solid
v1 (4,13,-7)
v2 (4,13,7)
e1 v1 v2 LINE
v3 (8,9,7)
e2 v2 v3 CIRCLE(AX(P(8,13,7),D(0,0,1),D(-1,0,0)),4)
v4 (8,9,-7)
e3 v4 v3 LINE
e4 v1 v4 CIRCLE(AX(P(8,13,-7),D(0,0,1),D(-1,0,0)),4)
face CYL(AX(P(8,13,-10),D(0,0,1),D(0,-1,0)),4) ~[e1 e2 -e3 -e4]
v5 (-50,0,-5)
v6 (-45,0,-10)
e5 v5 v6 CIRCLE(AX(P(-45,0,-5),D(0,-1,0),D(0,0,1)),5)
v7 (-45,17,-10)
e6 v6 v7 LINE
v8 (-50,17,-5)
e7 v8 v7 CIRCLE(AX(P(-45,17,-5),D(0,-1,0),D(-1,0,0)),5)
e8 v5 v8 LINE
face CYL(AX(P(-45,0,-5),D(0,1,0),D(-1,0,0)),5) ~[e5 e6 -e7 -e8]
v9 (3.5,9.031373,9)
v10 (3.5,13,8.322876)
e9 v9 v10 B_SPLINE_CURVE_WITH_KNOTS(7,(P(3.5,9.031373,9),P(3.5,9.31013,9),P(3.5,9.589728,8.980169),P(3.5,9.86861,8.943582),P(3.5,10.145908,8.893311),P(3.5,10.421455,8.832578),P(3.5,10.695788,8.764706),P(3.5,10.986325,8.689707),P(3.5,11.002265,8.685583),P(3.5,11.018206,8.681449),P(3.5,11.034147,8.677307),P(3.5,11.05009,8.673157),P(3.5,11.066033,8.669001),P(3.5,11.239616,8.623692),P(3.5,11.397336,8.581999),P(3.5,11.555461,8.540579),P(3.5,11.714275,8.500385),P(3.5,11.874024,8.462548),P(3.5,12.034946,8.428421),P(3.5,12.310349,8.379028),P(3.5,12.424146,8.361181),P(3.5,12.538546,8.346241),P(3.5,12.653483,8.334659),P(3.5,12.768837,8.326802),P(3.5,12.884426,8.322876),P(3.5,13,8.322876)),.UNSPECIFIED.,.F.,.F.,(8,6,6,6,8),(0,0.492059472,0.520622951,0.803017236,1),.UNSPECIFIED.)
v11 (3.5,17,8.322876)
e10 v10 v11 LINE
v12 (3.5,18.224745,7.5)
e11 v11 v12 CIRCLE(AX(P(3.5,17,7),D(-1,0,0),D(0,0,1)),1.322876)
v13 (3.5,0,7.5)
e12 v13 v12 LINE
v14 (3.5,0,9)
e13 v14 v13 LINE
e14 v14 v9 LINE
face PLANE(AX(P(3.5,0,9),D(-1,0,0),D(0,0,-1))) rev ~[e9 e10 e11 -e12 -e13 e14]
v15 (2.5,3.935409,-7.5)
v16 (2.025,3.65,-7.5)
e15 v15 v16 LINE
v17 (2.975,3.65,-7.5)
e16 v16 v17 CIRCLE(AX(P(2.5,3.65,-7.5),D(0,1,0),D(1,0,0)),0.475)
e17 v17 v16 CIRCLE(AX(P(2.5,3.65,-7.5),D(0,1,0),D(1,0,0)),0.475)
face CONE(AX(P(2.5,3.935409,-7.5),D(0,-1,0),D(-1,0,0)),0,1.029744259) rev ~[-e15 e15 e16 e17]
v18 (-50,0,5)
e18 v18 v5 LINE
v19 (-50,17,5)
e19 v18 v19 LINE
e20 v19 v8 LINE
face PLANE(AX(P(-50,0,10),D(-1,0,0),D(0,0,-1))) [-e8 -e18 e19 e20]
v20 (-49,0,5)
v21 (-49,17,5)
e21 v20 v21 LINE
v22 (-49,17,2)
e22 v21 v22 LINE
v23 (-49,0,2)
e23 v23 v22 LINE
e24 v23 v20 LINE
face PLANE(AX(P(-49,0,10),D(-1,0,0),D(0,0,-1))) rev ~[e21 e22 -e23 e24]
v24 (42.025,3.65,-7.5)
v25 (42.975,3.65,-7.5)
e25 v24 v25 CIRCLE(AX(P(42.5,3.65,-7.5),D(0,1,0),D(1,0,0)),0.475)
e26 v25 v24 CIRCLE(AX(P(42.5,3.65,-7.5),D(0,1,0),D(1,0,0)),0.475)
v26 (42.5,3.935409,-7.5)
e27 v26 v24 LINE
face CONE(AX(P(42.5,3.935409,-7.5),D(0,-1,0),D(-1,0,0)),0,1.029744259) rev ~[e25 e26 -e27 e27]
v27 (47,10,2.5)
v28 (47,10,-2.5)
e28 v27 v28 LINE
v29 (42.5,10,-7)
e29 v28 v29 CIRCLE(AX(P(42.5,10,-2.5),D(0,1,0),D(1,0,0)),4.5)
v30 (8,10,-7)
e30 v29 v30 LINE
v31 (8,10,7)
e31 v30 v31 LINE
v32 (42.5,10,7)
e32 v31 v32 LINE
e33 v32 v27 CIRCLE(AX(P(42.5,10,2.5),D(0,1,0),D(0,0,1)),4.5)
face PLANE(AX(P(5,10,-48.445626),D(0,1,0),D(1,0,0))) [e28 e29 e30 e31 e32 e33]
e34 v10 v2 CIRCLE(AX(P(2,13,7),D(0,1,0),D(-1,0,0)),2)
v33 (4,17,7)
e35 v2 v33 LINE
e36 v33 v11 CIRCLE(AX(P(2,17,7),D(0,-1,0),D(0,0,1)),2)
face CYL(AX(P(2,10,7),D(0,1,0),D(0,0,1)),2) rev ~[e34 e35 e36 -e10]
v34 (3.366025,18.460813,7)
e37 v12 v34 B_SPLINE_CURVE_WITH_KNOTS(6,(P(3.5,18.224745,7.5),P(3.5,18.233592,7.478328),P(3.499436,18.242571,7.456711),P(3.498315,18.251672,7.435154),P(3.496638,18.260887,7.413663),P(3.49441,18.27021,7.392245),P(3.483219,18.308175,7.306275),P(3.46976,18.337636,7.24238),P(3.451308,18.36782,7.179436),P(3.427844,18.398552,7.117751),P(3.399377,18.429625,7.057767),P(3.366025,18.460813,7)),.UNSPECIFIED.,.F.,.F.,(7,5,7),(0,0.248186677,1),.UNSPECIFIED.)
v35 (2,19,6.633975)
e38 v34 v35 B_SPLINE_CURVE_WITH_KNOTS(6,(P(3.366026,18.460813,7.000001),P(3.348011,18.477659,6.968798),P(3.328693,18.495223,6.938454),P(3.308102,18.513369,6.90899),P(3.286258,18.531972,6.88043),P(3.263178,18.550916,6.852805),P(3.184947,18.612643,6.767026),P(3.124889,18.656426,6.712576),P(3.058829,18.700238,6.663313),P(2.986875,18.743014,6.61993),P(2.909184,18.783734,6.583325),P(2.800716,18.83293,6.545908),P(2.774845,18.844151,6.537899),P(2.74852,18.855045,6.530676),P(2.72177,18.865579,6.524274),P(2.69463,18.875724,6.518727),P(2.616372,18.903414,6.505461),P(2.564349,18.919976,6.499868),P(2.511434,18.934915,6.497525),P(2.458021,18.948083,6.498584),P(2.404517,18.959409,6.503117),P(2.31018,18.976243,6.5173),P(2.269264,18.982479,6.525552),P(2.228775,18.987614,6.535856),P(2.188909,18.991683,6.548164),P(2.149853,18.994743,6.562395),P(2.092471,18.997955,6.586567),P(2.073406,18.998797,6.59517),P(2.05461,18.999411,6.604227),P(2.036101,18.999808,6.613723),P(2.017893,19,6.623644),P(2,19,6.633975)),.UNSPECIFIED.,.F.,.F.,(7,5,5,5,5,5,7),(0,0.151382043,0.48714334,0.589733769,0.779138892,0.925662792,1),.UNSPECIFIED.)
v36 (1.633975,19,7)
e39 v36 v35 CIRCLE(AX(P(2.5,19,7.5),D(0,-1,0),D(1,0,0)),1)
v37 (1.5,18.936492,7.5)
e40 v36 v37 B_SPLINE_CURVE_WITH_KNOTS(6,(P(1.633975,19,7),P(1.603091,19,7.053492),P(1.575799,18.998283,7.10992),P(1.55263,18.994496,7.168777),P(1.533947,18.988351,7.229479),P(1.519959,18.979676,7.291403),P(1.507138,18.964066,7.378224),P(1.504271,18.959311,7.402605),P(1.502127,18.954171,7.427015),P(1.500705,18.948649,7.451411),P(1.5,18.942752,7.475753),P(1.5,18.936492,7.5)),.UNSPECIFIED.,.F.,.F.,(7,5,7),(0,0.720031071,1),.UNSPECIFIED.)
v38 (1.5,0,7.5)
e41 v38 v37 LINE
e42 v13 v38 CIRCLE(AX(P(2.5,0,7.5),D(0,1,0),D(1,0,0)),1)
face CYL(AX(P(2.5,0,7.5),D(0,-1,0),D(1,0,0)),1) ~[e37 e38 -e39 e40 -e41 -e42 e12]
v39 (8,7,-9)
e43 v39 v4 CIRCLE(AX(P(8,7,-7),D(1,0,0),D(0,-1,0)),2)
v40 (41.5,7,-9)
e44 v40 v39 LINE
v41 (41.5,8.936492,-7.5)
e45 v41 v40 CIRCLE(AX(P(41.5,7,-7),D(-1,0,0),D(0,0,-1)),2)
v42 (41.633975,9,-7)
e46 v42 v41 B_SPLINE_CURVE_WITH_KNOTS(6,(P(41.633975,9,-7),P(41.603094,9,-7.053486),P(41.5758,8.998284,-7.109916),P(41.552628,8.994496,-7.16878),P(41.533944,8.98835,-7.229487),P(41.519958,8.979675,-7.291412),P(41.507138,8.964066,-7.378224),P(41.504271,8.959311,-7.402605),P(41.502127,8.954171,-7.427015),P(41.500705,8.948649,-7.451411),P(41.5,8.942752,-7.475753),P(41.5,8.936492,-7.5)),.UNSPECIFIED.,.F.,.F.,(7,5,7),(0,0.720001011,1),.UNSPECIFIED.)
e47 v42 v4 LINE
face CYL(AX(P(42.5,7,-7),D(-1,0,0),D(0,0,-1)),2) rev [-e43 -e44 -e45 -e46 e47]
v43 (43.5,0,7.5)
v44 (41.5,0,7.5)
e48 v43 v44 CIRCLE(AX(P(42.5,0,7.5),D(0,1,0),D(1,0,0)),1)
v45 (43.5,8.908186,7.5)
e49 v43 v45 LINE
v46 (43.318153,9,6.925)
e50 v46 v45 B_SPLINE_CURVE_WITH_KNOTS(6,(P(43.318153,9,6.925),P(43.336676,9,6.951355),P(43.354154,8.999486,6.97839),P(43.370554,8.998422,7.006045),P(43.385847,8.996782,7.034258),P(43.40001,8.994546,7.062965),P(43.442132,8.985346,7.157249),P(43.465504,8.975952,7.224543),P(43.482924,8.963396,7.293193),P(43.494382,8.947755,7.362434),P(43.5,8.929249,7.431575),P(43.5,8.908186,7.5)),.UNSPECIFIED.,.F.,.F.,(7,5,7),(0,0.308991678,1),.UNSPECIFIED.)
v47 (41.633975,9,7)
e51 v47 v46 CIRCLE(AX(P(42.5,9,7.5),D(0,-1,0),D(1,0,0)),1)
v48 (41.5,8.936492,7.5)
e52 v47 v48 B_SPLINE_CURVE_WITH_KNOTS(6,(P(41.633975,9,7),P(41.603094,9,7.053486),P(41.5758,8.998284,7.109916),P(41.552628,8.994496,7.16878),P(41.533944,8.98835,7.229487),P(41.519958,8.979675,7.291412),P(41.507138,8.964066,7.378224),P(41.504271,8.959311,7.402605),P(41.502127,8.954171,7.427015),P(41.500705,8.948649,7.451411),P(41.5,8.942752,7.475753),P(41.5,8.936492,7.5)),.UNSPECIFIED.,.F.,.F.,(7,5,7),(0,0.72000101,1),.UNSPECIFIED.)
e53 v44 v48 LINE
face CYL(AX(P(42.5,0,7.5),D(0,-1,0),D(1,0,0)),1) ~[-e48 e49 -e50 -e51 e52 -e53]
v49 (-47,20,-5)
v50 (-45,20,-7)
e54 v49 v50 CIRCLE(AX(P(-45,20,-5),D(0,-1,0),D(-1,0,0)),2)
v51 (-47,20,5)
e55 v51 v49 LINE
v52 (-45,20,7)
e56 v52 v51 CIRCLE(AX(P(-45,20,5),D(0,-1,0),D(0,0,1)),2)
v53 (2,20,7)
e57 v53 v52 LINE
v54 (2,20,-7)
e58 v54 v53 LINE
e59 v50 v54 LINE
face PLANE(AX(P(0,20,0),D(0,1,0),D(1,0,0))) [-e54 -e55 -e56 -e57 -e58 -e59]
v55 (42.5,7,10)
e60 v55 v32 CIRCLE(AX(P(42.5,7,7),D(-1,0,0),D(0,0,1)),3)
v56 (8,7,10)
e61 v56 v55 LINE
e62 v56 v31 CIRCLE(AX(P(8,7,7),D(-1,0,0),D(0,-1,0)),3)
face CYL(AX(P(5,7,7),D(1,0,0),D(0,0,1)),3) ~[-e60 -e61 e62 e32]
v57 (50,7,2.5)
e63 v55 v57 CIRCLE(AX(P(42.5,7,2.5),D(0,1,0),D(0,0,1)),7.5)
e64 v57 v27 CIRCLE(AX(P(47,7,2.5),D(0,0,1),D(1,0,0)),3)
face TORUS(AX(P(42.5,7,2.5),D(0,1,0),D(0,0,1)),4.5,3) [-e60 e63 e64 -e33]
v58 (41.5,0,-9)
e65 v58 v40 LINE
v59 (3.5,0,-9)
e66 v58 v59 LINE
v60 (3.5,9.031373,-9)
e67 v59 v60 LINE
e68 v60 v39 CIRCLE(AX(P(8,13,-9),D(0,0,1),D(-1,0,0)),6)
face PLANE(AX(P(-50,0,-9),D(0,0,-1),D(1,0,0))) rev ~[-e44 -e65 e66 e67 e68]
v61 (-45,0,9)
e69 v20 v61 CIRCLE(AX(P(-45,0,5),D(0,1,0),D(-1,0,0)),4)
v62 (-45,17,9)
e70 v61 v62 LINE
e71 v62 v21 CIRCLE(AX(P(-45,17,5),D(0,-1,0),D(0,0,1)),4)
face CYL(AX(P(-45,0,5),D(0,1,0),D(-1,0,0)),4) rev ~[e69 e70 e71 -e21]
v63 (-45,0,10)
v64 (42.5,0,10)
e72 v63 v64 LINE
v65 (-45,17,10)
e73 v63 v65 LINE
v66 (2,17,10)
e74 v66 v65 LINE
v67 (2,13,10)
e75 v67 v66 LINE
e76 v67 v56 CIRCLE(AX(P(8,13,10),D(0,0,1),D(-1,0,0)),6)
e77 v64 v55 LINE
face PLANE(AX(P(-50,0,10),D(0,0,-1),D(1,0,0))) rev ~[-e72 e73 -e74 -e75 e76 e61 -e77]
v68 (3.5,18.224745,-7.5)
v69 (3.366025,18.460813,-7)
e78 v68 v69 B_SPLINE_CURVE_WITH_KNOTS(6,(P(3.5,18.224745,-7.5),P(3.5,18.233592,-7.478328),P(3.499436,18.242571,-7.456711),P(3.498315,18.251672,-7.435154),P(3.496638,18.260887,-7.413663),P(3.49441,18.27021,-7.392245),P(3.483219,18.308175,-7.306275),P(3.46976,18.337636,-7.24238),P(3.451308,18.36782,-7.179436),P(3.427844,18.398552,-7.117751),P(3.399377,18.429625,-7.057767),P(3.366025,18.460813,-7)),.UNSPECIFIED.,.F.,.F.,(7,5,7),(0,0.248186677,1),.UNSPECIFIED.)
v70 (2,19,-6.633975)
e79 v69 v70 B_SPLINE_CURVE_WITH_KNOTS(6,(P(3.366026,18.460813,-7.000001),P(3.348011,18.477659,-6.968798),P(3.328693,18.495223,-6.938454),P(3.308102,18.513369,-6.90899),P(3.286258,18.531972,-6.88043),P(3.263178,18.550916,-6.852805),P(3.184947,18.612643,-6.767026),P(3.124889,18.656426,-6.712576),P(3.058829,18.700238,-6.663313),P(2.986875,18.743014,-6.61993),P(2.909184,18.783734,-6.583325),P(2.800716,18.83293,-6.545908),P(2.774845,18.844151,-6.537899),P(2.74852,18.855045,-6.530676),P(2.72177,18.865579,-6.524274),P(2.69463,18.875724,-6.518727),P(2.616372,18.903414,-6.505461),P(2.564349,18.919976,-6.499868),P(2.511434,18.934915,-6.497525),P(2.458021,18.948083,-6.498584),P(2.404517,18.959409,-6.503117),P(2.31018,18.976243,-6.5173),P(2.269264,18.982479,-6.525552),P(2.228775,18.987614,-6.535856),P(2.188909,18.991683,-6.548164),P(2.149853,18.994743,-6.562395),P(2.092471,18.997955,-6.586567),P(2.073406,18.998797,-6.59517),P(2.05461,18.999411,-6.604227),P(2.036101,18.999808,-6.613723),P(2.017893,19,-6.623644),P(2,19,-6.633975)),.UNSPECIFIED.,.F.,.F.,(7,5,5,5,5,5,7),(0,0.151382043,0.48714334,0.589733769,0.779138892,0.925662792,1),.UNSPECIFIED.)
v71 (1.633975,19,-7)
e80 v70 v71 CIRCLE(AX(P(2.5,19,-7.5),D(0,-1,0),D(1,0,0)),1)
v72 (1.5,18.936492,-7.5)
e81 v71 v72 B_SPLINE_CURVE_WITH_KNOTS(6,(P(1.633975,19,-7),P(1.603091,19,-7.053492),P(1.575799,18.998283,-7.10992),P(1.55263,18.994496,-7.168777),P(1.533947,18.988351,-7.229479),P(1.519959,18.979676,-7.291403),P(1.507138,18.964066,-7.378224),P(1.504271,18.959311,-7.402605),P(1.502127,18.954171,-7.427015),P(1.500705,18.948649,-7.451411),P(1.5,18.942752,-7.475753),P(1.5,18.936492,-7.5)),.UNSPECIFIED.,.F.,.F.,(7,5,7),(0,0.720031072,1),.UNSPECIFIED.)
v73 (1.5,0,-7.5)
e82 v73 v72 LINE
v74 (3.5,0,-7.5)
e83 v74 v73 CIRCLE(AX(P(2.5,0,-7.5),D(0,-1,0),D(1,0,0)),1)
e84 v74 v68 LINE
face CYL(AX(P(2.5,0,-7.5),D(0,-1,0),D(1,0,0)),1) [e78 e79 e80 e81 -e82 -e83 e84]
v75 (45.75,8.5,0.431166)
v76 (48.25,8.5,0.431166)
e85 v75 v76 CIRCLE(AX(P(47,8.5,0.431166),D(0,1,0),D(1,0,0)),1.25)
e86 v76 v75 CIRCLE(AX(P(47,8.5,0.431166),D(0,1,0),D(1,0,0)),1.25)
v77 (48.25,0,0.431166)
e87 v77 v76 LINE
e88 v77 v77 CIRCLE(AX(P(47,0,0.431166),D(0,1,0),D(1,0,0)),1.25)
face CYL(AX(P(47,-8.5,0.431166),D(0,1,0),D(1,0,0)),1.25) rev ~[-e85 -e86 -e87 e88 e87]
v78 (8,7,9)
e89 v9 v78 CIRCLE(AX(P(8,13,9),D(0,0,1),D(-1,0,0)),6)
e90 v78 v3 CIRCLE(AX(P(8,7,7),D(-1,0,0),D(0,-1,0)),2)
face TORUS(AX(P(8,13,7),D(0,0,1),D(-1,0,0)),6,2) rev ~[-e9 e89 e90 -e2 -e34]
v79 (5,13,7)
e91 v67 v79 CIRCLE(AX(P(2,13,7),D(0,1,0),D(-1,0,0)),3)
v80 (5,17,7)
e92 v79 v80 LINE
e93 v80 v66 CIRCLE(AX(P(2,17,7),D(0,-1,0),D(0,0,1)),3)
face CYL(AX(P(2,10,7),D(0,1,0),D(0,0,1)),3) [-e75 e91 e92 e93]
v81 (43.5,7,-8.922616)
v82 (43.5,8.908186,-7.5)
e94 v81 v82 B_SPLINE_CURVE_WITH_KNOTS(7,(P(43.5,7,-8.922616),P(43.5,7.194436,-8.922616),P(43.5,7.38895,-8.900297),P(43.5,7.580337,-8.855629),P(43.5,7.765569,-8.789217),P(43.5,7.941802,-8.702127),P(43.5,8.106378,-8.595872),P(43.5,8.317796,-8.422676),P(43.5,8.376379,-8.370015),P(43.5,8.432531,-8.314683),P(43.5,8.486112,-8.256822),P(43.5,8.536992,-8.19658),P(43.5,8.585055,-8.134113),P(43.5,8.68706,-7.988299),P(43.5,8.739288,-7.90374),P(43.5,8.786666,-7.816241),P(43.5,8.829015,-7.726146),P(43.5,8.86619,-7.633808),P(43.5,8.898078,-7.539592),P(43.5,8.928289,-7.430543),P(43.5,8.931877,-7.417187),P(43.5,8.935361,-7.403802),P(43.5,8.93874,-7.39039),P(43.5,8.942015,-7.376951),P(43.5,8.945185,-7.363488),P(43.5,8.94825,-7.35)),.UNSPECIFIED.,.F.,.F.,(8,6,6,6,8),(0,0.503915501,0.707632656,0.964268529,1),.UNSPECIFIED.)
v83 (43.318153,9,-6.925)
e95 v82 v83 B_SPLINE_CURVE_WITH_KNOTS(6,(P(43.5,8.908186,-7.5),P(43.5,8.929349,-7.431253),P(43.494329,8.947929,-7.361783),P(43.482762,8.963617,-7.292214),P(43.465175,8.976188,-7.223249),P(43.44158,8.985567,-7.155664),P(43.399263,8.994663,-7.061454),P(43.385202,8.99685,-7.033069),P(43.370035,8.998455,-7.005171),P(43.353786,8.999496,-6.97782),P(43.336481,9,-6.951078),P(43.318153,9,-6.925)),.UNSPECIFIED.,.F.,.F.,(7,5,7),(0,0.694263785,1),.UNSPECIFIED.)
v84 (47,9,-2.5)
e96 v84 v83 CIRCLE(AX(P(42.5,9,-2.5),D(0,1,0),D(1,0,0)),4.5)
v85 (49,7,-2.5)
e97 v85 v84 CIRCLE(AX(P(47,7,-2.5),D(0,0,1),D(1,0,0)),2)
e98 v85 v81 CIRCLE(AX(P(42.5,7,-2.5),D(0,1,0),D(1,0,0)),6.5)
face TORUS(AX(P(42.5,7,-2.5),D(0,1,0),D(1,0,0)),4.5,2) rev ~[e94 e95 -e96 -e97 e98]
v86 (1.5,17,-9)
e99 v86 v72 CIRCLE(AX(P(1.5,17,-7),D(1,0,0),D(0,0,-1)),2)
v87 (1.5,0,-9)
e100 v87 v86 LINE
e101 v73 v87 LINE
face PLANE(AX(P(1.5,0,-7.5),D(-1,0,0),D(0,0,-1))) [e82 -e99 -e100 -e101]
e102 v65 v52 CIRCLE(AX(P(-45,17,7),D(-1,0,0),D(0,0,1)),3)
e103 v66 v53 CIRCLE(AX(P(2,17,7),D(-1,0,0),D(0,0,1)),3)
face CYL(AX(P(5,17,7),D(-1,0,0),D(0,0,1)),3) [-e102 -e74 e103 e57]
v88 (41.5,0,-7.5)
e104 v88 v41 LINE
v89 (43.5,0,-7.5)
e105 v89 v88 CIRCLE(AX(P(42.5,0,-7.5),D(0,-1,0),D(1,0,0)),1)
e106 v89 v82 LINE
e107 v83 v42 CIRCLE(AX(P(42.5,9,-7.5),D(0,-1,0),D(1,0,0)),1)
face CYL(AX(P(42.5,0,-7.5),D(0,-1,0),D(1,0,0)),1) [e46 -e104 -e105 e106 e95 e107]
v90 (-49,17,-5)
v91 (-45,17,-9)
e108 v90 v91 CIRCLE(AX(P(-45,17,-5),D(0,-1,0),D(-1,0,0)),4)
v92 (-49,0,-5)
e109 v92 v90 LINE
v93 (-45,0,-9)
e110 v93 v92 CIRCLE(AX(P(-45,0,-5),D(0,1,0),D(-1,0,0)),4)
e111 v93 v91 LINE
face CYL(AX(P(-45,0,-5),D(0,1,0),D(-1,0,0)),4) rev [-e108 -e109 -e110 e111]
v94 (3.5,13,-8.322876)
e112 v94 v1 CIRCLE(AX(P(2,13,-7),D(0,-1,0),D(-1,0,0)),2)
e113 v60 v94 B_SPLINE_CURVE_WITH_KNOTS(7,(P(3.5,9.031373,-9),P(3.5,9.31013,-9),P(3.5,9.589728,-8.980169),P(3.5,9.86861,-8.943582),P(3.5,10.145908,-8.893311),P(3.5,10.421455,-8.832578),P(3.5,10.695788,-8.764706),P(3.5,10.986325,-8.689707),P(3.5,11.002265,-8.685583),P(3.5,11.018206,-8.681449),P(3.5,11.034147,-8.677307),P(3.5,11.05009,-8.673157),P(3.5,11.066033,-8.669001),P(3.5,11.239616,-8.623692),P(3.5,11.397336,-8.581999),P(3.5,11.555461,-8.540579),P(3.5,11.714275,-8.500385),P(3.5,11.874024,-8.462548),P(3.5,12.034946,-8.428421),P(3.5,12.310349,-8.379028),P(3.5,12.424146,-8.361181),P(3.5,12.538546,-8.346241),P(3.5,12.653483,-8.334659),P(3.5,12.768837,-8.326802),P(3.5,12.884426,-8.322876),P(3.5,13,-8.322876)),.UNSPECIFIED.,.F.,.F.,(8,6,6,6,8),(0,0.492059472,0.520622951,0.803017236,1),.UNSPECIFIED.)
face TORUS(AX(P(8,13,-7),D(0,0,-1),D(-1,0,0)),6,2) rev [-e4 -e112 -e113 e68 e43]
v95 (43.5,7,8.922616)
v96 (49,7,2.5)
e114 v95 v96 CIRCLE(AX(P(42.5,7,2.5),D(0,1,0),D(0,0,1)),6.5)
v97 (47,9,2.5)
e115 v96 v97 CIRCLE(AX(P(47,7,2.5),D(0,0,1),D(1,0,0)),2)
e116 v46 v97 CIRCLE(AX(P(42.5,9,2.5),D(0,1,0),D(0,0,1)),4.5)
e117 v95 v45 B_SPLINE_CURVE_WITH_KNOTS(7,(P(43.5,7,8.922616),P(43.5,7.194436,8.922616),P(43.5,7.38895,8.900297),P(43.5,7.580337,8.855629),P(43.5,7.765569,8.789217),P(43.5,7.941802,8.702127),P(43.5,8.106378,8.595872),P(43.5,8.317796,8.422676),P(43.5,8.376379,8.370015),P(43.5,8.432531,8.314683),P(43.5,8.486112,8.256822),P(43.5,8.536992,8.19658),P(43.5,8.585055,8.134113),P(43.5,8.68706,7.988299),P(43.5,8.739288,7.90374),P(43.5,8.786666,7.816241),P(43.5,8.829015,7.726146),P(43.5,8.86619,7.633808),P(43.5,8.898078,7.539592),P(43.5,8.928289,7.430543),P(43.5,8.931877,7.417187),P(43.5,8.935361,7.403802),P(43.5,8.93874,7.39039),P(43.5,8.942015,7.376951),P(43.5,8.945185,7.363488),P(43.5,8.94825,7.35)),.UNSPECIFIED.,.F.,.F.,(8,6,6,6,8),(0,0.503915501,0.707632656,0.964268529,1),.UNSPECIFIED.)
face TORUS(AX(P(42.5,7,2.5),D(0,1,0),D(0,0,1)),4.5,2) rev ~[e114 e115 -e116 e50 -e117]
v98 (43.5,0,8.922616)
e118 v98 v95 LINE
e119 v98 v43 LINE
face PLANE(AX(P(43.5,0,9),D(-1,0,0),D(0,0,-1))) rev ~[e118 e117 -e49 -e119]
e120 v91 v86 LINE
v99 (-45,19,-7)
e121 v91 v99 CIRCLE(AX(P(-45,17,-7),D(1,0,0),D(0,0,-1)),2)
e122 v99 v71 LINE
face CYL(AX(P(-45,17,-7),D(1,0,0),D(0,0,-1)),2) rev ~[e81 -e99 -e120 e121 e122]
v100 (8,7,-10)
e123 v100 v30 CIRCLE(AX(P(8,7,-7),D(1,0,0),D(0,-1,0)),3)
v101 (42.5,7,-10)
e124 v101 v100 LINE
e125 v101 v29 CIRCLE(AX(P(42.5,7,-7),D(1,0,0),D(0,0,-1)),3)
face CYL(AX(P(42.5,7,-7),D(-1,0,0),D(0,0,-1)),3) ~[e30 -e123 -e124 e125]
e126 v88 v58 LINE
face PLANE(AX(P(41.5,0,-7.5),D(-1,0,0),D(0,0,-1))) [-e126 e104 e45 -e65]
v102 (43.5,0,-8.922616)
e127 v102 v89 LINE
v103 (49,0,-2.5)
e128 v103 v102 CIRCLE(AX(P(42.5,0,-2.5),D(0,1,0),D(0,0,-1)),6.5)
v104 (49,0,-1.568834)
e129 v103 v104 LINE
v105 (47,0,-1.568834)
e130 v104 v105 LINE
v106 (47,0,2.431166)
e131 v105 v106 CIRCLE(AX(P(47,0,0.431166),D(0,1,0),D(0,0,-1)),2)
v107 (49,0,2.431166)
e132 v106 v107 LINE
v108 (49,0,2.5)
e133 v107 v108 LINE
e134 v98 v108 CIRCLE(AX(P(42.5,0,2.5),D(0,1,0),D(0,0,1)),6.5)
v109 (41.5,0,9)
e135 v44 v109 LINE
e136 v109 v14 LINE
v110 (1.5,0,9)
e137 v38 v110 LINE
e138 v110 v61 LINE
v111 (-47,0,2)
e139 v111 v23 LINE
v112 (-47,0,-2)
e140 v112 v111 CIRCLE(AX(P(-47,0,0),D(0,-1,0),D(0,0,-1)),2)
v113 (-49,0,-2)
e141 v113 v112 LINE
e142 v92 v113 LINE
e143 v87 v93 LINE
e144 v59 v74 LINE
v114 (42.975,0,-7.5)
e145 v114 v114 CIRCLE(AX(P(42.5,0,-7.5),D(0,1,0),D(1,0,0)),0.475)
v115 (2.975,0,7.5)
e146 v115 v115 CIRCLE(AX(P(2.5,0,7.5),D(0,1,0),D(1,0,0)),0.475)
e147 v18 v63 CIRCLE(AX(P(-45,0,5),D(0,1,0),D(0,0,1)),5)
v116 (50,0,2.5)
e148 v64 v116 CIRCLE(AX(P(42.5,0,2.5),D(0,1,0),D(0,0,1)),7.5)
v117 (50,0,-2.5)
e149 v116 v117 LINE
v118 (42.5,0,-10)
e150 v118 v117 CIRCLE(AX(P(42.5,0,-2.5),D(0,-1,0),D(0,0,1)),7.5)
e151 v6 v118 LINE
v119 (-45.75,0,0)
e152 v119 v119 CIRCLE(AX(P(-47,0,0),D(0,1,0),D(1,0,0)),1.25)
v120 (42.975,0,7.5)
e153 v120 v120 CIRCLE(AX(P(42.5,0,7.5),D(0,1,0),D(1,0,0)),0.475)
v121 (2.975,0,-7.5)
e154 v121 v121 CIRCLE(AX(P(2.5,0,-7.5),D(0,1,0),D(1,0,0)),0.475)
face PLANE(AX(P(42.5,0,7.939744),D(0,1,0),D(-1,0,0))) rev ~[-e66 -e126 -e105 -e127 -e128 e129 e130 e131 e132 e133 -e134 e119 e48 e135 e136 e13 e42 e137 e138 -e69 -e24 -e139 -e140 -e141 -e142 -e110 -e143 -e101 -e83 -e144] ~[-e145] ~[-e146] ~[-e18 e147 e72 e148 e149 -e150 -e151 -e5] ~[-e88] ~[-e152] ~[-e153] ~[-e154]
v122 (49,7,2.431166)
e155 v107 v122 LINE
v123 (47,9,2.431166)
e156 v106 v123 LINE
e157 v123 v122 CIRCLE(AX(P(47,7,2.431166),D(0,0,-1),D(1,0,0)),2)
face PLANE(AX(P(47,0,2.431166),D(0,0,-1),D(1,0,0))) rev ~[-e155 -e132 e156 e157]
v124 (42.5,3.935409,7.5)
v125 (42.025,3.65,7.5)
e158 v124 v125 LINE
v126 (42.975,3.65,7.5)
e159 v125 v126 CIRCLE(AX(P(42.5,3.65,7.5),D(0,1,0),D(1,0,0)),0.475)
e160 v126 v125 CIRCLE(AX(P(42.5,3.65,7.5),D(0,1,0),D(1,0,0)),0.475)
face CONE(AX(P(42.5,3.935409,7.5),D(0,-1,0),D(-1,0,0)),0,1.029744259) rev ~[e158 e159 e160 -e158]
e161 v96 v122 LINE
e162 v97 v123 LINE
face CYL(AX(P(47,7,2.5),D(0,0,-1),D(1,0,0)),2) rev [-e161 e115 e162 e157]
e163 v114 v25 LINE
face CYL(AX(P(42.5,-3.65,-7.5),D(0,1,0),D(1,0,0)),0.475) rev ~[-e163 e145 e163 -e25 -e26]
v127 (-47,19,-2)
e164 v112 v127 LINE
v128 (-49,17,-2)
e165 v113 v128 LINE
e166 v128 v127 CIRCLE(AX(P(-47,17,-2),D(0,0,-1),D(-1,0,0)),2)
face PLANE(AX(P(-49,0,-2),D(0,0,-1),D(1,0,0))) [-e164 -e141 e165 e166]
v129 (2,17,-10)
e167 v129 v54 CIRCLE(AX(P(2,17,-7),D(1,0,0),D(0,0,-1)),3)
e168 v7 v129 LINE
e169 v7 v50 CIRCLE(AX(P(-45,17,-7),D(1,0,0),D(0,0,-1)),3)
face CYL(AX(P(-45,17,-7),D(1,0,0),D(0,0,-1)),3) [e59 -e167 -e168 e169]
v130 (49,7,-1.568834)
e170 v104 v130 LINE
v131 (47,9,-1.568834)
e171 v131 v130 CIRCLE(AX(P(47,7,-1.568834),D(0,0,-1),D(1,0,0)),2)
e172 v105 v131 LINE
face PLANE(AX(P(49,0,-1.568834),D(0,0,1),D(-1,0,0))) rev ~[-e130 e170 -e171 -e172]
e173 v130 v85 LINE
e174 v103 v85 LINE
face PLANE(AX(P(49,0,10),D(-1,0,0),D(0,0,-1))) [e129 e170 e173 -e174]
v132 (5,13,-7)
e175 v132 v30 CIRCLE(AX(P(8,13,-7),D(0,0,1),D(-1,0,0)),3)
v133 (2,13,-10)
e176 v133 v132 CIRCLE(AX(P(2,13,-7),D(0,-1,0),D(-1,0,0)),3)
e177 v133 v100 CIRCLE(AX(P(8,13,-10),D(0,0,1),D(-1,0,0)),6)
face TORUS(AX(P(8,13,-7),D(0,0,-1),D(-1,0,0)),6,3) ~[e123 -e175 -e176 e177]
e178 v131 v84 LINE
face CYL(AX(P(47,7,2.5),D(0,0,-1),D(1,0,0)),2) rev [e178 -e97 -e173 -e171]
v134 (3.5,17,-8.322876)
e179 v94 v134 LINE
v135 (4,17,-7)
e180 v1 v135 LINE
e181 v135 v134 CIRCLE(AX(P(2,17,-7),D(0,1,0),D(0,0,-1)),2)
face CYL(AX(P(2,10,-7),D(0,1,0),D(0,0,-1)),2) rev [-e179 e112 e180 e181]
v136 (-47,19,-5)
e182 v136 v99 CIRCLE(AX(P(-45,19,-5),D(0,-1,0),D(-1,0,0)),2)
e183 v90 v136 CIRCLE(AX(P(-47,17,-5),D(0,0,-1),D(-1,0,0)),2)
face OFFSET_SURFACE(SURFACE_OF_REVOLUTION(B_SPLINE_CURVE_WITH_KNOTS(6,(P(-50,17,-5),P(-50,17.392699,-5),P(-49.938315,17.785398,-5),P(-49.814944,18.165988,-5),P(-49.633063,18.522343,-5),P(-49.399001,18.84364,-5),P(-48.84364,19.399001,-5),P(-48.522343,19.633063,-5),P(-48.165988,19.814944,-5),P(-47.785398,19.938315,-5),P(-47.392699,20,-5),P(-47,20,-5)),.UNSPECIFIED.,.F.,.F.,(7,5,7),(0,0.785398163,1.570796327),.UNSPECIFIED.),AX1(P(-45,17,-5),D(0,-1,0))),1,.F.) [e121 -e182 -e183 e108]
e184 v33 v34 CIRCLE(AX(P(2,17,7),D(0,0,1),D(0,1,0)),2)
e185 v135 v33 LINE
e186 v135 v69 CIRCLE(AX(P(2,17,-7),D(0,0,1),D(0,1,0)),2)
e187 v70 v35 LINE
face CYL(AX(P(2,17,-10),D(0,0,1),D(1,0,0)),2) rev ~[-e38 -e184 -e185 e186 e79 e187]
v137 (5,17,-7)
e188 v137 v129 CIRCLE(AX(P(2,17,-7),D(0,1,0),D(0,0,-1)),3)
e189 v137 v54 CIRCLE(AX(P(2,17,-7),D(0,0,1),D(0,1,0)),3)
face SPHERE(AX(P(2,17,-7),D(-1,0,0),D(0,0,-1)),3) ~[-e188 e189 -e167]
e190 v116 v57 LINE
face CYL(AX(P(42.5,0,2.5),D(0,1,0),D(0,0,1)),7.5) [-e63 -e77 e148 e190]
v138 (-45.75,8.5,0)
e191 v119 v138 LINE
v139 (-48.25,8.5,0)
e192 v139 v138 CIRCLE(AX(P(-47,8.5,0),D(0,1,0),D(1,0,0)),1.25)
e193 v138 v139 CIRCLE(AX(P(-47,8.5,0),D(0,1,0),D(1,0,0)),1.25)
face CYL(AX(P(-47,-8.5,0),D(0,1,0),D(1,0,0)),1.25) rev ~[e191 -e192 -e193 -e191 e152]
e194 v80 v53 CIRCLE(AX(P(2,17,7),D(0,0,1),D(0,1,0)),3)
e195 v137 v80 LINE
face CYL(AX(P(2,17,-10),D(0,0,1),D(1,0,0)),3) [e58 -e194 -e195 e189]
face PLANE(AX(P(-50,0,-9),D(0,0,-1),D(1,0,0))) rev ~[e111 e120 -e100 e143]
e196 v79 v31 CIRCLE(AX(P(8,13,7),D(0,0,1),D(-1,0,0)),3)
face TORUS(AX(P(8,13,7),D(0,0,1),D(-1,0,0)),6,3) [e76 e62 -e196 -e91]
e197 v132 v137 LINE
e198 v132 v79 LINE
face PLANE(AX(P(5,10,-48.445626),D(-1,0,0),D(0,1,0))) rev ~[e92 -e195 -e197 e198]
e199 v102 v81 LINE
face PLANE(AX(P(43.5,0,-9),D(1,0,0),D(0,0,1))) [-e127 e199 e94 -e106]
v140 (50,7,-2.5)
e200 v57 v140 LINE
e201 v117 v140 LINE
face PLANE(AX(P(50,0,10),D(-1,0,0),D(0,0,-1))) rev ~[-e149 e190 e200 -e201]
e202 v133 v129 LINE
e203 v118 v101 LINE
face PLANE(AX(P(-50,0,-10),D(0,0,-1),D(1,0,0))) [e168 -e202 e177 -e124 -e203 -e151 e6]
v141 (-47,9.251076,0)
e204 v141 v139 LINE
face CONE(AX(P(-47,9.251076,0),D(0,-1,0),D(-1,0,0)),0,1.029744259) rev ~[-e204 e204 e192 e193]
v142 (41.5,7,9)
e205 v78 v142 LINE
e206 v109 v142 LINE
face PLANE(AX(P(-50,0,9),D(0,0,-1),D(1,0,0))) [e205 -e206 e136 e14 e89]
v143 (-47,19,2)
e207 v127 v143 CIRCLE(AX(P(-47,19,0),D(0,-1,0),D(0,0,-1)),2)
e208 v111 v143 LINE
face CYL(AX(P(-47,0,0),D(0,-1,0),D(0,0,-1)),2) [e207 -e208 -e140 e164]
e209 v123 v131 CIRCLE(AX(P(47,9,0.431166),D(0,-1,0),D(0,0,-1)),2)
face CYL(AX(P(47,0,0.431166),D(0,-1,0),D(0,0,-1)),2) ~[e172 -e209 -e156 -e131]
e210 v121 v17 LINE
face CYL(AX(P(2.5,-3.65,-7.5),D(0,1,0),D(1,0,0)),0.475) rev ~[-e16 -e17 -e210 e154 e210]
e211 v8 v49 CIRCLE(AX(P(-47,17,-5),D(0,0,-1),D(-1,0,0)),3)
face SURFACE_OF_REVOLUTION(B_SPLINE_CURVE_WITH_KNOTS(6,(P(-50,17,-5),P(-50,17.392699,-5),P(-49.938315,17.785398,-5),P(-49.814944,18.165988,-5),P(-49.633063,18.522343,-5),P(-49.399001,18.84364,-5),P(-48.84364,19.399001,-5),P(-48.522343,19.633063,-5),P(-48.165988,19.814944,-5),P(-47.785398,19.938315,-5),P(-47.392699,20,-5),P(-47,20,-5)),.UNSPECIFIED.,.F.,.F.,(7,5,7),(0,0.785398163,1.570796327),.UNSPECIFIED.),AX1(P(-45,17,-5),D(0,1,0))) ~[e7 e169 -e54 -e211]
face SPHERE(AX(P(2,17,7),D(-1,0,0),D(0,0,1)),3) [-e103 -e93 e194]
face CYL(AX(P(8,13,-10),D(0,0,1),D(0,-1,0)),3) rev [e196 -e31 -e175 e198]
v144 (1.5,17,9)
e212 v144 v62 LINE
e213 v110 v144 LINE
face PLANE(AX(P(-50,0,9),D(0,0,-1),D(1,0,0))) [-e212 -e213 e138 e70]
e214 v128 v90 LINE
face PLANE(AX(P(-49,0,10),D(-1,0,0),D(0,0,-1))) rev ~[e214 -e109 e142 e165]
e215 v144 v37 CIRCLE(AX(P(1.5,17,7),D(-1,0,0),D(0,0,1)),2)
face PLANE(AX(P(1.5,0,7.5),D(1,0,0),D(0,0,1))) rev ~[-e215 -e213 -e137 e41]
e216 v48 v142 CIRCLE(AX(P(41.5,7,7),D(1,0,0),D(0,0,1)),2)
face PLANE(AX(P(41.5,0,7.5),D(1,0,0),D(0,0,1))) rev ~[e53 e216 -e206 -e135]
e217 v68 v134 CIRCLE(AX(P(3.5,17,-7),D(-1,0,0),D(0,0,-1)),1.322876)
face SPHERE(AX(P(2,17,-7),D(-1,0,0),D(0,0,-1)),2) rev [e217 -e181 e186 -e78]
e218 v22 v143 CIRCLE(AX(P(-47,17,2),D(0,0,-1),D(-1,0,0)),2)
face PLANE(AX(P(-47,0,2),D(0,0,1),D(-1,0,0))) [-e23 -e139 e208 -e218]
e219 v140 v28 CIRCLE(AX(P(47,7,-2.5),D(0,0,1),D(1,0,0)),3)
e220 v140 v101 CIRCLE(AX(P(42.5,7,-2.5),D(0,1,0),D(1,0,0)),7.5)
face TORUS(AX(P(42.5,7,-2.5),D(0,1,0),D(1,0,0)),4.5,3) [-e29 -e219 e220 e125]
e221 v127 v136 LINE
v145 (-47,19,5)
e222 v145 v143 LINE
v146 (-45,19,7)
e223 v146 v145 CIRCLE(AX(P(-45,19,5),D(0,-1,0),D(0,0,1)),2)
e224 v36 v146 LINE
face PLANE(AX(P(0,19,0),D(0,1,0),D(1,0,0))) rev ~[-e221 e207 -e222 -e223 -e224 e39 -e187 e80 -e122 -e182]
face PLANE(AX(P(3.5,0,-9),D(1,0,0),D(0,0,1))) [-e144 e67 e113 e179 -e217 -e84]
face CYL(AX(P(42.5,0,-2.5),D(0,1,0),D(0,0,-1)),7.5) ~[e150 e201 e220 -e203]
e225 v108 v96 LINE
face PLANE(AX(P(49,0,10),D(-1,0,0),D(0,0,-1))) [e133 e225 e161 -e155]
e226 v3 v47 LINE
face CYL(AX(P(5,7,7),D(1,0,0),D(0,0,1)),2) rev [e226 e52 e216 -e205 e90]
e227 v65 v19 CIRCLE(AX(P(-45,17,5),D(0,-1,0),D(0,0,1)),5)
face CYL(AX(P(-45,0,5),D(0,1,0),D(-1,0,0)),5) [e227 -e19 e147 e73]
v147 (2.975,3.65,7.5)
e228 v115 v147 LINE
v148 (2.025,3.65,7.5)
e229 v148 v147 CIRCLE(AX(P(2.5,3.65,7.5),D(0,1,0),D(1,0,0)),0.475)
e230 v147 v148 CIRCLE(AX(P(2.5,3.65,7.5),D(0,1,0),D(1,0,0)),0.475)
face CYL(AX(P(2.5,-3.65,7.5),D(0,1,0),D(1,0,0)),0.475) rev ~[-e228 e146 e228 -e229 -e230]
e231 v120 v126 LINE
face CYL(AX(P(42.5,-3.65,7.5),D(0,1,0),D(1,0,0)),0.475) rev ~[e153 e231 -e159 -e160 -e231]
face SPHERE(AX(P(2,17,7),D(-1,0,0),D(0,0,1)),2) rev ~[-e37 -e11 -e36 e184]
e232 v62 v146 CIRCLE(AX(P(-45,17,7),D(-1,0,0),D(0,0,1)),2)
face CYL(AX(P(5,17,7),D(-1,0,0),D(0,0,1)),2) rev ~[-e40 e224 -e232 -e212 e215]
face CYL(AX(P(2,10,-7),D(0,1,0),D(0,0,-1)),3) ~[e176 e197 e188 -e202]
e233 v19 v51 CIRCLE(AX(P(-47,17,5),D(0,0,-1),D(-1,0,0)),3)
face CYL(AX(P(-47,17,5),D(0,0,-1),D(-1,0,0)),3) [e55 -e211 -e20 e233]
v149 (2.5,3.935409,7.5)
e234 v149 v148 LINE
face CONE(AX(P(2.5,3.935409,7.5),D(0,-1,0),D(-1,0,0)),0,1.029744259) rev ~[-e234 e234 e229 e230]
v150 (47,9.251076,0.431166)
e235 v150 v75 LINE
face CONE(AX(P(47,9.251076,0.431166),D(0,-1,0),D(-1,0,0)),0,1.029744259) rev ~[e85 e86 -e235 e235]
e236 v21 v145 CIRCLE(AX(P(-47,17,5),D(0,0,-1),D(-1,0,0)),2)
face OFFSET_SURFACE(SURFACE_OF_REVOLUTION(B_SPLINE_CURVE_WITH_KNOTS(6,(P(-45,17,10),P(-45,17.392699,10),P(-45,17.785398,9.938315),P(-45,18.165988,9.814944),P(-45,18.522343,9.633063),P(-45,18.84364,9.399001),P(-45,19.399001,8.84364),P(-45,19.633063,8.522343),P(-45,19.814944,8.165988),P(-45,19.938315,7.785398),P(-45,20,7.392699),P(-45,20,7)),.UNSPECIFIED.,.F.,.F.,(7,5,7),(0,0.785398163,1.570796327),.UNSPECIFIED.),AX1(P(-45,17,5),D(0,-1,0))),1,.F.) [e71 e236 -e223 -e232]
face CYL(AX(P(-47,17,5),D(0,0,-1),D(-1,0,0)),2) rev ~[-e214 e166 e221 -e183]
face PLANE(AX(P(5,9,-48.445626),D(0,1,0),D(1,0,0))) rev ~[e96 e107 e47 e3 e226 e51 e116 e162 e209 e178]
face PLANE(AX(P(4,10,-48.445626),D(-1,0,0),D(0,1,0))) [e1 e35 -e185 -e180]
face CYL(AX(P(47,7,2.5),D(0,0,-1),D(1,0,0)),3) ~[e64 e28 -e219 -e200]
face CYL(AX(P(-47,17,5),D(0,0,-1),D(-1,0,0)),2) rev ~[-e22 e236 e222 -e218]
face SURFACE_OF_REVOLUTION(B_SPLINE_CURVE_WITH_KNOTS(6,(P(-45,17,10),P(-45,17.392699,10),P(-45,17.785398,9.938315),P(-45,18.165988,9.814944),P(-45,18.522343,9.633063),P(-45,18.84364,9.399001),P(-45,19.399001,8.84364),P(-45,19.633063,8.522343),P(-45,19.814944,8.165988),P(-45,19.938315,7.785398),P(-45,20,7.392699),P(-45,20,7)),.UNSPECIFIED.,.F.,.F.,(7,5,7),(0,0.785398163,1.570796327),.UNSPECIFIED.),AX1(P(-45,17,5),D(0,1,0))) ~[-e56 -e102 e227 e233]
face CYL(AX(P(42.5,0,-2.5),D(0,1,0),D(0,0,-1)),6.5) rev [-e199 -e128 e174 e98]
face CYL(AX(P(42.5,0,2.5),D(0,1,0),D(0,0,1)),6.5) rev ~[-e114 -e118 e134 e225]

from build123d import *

# Parameters (mm, degrees)
SKETCH1_W                    = 100
SKETCH1_H                    = 20
BOSS_EXTRUDE1_DEPTH          = 20
FILLET1_R                    = 5
FILLET2_R                    = 7.5
CUT_EXTRUDE1_DEPTH           = 58.445626465
CUT_EXTRUDE1_DEPTH_BACK      = 58.445626465
SKETCH3_W                    = 45
SKETCH3_H                    = 10
FILLET3_R                    = 3
SHELL1_T                     = -1
BOSS_EXTRUDE3_REACH          = 56.772
M1_2X0_25_TAPPED_HOLE2_D     = 0.95
M1_2X0_25_TAPPED_HOLE2_DEPTH = 3.65
M1_2X0_25_TAPPED_HOLE2_TIP   = 0.285408794
M3_TAPPED_HOLE1_D            = 2.5
M3_TAPPED_HOLE1_DEPTH        = 8.5
M3_TAPPED_HOLE1_TIP          = 0.751075774


with BuildPart() as part:
    # Sketch1 → Boss-Extrude1 (new body)
    with BuildSketch(Plane(origin=(0, 0, 0), x_dir=(1, 0, 0), z_dir=(0, 1, 0))):
        Rectangle(SKETCH1_W, SKETCH1_H)
    extrude(amount=BOSS_EXTRUDE1_DEPTH)

    # Fillet1
    fillet1_edges = [part.edges().sort_by_distance(p)[0] for p in [
        (-50, 10, 10),
        (-50, 10, -10),
    ]]
    fillet(fillet1_edges, radius=FILLET1_R)

    # Fillet2
    fillet2_edges = [part.edges().sort_by_distance(p)[0] for p in [
        (50, 10, 10),
        (50, 10, -10),
    ]]
    fillet(fillet2_edges, radius=FILLET2_R)

    # Sketch3 → Cut-Extrude1 (cut, two sides: drawn at the far end of the back side and taken through both)
    with BuildSketch(Plane.XY.offset(10).offset(-CUT_EXTRUDE1_DEPTH_BACK)):
        with Locations((27.5, 15)):
            Rectangle(SKETCH3_W, SKETCH3_H)
    extrude(amount=CUT_EXTRUDE1_DEPTH + CUT_EXTRUDE1_DEPTH_BACK, mode=Mode.SUBTRACT)

    # Fillet3
    fillet3_edges = [part.edges().sort_by_distance(p)[0] for p in [
        (-50, 20, 0),
        (-20, 20, 10),
        (-48.535533906, 20, 8.535533906),
        (-48.535533906, 20, -8.535533906),
        (47.803300859, 10, 7.803300859),
        (-20, 20, -10),
        (5, 10, 0),
        (5, 15, 10),
        (5, 15, -10),
        (5, 20, 0),
        (47.803300859, 10, -7.803300859),
        (50, 10, 0),
        (23.75, 10, 10),
        (23.75, 10, -10),
    ]]
    fillet(fillet3_edges, radius=FILLET3_R)

    # Shell1
    shell1_openings = [part.faces().sort_by_distance(p)[0] for p in [
        (-0.326782527, 0, 0),
    ]]
    offset(amount=SHELL1_T, openings=shell1_openings, kind=Kind.INTERSECTION)

    # Sketch4 → Boss-Extrude3 (add, up to next)
    with BuildSketch(Plane.XZ, mode=Mode.PRIVATE) as boss_extrude3_sk1:
        with BuildLine():
            Line((1.5, -7.5), (1.5, -9))
            Line((1.5, -9), (3.5, -9))
            Line((3.5, -9), (3.5, -7.5))
            ThreePointArc((3.5, -7.5), (2.5, -6.5), (1.5, -7.5))
        make_face()
    boss_extrude3_tool1 = extrude(boss_extrude3_sk1.sketch, amount=-BOSS_EXTRUDE3_REACH, mode=Mode.PRIVATE) - part.part
    # Sketch4 → Boss-Extrude3 (add, up to next)
    with BuildSketch(Plane.XZ, mode=Mode.PRIVATE) as boss_extrude3_sk2:
        with BuildLine():
            Line((1.5, 7.5), (1.5, 9))
            Line((1.5, 9), (3.5, 9))
            Line((3.5, 9), (3.5, 7.5))
            ThreePointArc((3.5, 7.5), (2.5, 6.5), (1.5, 7.5))
        make_face()
    boss_extrude3_tool2 = extrude(boss_extrude3_sk2.sketch, amount=-BOSS_EXTRUDE3_REACH, mode=Mode.PRIVATE) - part.part
    # Sketch4 → Boss-Extrude3 (add, up to next)
    with BuildSketch(Plane.XZ, mode=Mode.PRIVATE) as boss_extrude3_sk3:
        with BuildLine():
            Line((41.5, -7.5), (41.5, -9))
            Line((41.5, -9), (43.5, -9))
            Line((43.5, -9), (43.5, -7.5))
            ThreePointArc((43.5, -7.5), (42.5, -6.5), (41.5, -7.5))
        make_face()
    boss_extrude3_tool3 = extrude(boss_extrude3_sk3.sketch, amount=-BOSS_EXTRUDE3_REACH, mode=Mode.PRIVATE) - part.part
    # Sketch4 → Boss-Extrude3 (add, up to next)
    with BuildSketch(Plane.XZ, mode=Mode.PRIVATE) as boss_extrude3_sk4:
        with BuildLine():
            Line((41.5, 7.5), (41.5, 9))
            Line((41.5, 9), (43.5, 9))
            Line((43.5, 9), (43.5, 7.5))
            ThreePointArc((43.5, 7.5), (42.5, 6.5), (41.5, 7.5))
        make_face()
    boss_extrude3_tool4 = extrude(boss_extrude3_sk4.sketch, amount=-BOSS_EXTRUDE3_REACH, mode=Mode.PRIVATE) - part.part
    # Sketch4 → Boss-Extrude3 (add, up to next)
    with BuildSketch(Plane.XZ, mode=Mode.PRIVATE) as boss_extrude3_sk5:
        with BuildLine():
            Line((47, 2.431166482), (49, 2.431166482))
            Line((49, 2.431166482), (49, -1.568833518))
            Line((49, -1.568833518), (47, -1.568833518))
            ThreePointArc((47, -1.568833518), (45, 0.431166482), (47, 2.431166482))
        make_face()
    boss_extrude3_tool5 = extrude(boss_extrude3_sk5.sketch, amount=-BOSS_EXTRUDE3_REACH, mode=Mode.PRIVATE) - part.part
    # Sketch4 → Boss-Extrude3 (add, up to next)
    with BuildSketch(Plane.XZ, mode=Mode.PRIVATE) as boss_extrude3_sk6:
        with BuildLine():
            Line((-47, 2), (-49, 2))
            Line((-49, 2), (-49, -2))
            Line((-49, -2), (-47, -2))
            ThreePointArc((-47, -2), (-45, 0), (-47, 2))
        make_face()
    boss_extrude3_tool6 = extrude(boss_extrude3_sk6.sketch, amount=-BOSS_EXTRUDE3_REACH, mode=Mode.PRIVATE) - part.part
    add(boss_extrude3_tool1.solids().sort_by_distance((2.5, 0, -7.846402))[0])
    add(boss_extrude3_tool2.solids().sort_by_distance((2.5, 0, 7.846402))[0])
    add(boss_extrude3_tool3.solids().sort_by_distance((42.5, 0, -7.846402))[0])
    add(boss_extrude3_tool4.solids().sort_by_distance((42.5, 0, 7.846402))[0])
    add(boss_extrude3_tool5.solids().sort_by_distance((47.1867, 0, 0.431166))[0])
    add(boss_extrude3_tool6.solids().sort_by_distance((-47.1867, 0, 0))[0])

    # M1.2x0.25 Tapped Hole2
    with Locations(Plane(origin=(0, 0, 0), x_dir=(-1, 0, 0), z_dir=(0, -1, 0))):
        with Locations((-2.5, -7.5), (-2.5, 7.5), (-42.5, 7.5), (-42.5, -7.5)):
            Hole(M1_2X0_25_TAPPED_HOLE2_D / 2, depth=M1_2X0_25_TAPPED_HOLE2_DEPTH)
            with Locations((0, 0, -(M1_2X0_25_TAPPED_HOLE2_DEPTH + M1_2X0_25_TAPPED_HOLE2_TIP / 2))):  # 118° drill point
                Cone(0, M1_2X0_25_TAPPED_HOLE2_D / 2, M1_2X0_25_TAPPED_HOLE2_TIP, mode=Mode.SUBTRACT)

    # M3 Tapped Hole1
    with Locations(Plane(origin=(0, 0, 0), x_dir=(-1, 0, 0), z_dir=(0, -1, 0))):
        with Locations((-47, -0.431166482), (47, 0)):
            Hole(M3_TAPPED_HOLE1_D / 2, depth=M3_TAPPED_HOLE1_DEPTH)
            with Locations((0, 0, -(M3_TAPPED_HOLE1_DEPTH + M3_TAPPED_HOLE1_TIP / 2))):  # 118° drill point
                Cone(0, M3_TAPPED_HOLE1_D / 2, M3_TAPPED_HOLE1_TIP, mode=Mode.SUBTRACT)


solid = part.part
